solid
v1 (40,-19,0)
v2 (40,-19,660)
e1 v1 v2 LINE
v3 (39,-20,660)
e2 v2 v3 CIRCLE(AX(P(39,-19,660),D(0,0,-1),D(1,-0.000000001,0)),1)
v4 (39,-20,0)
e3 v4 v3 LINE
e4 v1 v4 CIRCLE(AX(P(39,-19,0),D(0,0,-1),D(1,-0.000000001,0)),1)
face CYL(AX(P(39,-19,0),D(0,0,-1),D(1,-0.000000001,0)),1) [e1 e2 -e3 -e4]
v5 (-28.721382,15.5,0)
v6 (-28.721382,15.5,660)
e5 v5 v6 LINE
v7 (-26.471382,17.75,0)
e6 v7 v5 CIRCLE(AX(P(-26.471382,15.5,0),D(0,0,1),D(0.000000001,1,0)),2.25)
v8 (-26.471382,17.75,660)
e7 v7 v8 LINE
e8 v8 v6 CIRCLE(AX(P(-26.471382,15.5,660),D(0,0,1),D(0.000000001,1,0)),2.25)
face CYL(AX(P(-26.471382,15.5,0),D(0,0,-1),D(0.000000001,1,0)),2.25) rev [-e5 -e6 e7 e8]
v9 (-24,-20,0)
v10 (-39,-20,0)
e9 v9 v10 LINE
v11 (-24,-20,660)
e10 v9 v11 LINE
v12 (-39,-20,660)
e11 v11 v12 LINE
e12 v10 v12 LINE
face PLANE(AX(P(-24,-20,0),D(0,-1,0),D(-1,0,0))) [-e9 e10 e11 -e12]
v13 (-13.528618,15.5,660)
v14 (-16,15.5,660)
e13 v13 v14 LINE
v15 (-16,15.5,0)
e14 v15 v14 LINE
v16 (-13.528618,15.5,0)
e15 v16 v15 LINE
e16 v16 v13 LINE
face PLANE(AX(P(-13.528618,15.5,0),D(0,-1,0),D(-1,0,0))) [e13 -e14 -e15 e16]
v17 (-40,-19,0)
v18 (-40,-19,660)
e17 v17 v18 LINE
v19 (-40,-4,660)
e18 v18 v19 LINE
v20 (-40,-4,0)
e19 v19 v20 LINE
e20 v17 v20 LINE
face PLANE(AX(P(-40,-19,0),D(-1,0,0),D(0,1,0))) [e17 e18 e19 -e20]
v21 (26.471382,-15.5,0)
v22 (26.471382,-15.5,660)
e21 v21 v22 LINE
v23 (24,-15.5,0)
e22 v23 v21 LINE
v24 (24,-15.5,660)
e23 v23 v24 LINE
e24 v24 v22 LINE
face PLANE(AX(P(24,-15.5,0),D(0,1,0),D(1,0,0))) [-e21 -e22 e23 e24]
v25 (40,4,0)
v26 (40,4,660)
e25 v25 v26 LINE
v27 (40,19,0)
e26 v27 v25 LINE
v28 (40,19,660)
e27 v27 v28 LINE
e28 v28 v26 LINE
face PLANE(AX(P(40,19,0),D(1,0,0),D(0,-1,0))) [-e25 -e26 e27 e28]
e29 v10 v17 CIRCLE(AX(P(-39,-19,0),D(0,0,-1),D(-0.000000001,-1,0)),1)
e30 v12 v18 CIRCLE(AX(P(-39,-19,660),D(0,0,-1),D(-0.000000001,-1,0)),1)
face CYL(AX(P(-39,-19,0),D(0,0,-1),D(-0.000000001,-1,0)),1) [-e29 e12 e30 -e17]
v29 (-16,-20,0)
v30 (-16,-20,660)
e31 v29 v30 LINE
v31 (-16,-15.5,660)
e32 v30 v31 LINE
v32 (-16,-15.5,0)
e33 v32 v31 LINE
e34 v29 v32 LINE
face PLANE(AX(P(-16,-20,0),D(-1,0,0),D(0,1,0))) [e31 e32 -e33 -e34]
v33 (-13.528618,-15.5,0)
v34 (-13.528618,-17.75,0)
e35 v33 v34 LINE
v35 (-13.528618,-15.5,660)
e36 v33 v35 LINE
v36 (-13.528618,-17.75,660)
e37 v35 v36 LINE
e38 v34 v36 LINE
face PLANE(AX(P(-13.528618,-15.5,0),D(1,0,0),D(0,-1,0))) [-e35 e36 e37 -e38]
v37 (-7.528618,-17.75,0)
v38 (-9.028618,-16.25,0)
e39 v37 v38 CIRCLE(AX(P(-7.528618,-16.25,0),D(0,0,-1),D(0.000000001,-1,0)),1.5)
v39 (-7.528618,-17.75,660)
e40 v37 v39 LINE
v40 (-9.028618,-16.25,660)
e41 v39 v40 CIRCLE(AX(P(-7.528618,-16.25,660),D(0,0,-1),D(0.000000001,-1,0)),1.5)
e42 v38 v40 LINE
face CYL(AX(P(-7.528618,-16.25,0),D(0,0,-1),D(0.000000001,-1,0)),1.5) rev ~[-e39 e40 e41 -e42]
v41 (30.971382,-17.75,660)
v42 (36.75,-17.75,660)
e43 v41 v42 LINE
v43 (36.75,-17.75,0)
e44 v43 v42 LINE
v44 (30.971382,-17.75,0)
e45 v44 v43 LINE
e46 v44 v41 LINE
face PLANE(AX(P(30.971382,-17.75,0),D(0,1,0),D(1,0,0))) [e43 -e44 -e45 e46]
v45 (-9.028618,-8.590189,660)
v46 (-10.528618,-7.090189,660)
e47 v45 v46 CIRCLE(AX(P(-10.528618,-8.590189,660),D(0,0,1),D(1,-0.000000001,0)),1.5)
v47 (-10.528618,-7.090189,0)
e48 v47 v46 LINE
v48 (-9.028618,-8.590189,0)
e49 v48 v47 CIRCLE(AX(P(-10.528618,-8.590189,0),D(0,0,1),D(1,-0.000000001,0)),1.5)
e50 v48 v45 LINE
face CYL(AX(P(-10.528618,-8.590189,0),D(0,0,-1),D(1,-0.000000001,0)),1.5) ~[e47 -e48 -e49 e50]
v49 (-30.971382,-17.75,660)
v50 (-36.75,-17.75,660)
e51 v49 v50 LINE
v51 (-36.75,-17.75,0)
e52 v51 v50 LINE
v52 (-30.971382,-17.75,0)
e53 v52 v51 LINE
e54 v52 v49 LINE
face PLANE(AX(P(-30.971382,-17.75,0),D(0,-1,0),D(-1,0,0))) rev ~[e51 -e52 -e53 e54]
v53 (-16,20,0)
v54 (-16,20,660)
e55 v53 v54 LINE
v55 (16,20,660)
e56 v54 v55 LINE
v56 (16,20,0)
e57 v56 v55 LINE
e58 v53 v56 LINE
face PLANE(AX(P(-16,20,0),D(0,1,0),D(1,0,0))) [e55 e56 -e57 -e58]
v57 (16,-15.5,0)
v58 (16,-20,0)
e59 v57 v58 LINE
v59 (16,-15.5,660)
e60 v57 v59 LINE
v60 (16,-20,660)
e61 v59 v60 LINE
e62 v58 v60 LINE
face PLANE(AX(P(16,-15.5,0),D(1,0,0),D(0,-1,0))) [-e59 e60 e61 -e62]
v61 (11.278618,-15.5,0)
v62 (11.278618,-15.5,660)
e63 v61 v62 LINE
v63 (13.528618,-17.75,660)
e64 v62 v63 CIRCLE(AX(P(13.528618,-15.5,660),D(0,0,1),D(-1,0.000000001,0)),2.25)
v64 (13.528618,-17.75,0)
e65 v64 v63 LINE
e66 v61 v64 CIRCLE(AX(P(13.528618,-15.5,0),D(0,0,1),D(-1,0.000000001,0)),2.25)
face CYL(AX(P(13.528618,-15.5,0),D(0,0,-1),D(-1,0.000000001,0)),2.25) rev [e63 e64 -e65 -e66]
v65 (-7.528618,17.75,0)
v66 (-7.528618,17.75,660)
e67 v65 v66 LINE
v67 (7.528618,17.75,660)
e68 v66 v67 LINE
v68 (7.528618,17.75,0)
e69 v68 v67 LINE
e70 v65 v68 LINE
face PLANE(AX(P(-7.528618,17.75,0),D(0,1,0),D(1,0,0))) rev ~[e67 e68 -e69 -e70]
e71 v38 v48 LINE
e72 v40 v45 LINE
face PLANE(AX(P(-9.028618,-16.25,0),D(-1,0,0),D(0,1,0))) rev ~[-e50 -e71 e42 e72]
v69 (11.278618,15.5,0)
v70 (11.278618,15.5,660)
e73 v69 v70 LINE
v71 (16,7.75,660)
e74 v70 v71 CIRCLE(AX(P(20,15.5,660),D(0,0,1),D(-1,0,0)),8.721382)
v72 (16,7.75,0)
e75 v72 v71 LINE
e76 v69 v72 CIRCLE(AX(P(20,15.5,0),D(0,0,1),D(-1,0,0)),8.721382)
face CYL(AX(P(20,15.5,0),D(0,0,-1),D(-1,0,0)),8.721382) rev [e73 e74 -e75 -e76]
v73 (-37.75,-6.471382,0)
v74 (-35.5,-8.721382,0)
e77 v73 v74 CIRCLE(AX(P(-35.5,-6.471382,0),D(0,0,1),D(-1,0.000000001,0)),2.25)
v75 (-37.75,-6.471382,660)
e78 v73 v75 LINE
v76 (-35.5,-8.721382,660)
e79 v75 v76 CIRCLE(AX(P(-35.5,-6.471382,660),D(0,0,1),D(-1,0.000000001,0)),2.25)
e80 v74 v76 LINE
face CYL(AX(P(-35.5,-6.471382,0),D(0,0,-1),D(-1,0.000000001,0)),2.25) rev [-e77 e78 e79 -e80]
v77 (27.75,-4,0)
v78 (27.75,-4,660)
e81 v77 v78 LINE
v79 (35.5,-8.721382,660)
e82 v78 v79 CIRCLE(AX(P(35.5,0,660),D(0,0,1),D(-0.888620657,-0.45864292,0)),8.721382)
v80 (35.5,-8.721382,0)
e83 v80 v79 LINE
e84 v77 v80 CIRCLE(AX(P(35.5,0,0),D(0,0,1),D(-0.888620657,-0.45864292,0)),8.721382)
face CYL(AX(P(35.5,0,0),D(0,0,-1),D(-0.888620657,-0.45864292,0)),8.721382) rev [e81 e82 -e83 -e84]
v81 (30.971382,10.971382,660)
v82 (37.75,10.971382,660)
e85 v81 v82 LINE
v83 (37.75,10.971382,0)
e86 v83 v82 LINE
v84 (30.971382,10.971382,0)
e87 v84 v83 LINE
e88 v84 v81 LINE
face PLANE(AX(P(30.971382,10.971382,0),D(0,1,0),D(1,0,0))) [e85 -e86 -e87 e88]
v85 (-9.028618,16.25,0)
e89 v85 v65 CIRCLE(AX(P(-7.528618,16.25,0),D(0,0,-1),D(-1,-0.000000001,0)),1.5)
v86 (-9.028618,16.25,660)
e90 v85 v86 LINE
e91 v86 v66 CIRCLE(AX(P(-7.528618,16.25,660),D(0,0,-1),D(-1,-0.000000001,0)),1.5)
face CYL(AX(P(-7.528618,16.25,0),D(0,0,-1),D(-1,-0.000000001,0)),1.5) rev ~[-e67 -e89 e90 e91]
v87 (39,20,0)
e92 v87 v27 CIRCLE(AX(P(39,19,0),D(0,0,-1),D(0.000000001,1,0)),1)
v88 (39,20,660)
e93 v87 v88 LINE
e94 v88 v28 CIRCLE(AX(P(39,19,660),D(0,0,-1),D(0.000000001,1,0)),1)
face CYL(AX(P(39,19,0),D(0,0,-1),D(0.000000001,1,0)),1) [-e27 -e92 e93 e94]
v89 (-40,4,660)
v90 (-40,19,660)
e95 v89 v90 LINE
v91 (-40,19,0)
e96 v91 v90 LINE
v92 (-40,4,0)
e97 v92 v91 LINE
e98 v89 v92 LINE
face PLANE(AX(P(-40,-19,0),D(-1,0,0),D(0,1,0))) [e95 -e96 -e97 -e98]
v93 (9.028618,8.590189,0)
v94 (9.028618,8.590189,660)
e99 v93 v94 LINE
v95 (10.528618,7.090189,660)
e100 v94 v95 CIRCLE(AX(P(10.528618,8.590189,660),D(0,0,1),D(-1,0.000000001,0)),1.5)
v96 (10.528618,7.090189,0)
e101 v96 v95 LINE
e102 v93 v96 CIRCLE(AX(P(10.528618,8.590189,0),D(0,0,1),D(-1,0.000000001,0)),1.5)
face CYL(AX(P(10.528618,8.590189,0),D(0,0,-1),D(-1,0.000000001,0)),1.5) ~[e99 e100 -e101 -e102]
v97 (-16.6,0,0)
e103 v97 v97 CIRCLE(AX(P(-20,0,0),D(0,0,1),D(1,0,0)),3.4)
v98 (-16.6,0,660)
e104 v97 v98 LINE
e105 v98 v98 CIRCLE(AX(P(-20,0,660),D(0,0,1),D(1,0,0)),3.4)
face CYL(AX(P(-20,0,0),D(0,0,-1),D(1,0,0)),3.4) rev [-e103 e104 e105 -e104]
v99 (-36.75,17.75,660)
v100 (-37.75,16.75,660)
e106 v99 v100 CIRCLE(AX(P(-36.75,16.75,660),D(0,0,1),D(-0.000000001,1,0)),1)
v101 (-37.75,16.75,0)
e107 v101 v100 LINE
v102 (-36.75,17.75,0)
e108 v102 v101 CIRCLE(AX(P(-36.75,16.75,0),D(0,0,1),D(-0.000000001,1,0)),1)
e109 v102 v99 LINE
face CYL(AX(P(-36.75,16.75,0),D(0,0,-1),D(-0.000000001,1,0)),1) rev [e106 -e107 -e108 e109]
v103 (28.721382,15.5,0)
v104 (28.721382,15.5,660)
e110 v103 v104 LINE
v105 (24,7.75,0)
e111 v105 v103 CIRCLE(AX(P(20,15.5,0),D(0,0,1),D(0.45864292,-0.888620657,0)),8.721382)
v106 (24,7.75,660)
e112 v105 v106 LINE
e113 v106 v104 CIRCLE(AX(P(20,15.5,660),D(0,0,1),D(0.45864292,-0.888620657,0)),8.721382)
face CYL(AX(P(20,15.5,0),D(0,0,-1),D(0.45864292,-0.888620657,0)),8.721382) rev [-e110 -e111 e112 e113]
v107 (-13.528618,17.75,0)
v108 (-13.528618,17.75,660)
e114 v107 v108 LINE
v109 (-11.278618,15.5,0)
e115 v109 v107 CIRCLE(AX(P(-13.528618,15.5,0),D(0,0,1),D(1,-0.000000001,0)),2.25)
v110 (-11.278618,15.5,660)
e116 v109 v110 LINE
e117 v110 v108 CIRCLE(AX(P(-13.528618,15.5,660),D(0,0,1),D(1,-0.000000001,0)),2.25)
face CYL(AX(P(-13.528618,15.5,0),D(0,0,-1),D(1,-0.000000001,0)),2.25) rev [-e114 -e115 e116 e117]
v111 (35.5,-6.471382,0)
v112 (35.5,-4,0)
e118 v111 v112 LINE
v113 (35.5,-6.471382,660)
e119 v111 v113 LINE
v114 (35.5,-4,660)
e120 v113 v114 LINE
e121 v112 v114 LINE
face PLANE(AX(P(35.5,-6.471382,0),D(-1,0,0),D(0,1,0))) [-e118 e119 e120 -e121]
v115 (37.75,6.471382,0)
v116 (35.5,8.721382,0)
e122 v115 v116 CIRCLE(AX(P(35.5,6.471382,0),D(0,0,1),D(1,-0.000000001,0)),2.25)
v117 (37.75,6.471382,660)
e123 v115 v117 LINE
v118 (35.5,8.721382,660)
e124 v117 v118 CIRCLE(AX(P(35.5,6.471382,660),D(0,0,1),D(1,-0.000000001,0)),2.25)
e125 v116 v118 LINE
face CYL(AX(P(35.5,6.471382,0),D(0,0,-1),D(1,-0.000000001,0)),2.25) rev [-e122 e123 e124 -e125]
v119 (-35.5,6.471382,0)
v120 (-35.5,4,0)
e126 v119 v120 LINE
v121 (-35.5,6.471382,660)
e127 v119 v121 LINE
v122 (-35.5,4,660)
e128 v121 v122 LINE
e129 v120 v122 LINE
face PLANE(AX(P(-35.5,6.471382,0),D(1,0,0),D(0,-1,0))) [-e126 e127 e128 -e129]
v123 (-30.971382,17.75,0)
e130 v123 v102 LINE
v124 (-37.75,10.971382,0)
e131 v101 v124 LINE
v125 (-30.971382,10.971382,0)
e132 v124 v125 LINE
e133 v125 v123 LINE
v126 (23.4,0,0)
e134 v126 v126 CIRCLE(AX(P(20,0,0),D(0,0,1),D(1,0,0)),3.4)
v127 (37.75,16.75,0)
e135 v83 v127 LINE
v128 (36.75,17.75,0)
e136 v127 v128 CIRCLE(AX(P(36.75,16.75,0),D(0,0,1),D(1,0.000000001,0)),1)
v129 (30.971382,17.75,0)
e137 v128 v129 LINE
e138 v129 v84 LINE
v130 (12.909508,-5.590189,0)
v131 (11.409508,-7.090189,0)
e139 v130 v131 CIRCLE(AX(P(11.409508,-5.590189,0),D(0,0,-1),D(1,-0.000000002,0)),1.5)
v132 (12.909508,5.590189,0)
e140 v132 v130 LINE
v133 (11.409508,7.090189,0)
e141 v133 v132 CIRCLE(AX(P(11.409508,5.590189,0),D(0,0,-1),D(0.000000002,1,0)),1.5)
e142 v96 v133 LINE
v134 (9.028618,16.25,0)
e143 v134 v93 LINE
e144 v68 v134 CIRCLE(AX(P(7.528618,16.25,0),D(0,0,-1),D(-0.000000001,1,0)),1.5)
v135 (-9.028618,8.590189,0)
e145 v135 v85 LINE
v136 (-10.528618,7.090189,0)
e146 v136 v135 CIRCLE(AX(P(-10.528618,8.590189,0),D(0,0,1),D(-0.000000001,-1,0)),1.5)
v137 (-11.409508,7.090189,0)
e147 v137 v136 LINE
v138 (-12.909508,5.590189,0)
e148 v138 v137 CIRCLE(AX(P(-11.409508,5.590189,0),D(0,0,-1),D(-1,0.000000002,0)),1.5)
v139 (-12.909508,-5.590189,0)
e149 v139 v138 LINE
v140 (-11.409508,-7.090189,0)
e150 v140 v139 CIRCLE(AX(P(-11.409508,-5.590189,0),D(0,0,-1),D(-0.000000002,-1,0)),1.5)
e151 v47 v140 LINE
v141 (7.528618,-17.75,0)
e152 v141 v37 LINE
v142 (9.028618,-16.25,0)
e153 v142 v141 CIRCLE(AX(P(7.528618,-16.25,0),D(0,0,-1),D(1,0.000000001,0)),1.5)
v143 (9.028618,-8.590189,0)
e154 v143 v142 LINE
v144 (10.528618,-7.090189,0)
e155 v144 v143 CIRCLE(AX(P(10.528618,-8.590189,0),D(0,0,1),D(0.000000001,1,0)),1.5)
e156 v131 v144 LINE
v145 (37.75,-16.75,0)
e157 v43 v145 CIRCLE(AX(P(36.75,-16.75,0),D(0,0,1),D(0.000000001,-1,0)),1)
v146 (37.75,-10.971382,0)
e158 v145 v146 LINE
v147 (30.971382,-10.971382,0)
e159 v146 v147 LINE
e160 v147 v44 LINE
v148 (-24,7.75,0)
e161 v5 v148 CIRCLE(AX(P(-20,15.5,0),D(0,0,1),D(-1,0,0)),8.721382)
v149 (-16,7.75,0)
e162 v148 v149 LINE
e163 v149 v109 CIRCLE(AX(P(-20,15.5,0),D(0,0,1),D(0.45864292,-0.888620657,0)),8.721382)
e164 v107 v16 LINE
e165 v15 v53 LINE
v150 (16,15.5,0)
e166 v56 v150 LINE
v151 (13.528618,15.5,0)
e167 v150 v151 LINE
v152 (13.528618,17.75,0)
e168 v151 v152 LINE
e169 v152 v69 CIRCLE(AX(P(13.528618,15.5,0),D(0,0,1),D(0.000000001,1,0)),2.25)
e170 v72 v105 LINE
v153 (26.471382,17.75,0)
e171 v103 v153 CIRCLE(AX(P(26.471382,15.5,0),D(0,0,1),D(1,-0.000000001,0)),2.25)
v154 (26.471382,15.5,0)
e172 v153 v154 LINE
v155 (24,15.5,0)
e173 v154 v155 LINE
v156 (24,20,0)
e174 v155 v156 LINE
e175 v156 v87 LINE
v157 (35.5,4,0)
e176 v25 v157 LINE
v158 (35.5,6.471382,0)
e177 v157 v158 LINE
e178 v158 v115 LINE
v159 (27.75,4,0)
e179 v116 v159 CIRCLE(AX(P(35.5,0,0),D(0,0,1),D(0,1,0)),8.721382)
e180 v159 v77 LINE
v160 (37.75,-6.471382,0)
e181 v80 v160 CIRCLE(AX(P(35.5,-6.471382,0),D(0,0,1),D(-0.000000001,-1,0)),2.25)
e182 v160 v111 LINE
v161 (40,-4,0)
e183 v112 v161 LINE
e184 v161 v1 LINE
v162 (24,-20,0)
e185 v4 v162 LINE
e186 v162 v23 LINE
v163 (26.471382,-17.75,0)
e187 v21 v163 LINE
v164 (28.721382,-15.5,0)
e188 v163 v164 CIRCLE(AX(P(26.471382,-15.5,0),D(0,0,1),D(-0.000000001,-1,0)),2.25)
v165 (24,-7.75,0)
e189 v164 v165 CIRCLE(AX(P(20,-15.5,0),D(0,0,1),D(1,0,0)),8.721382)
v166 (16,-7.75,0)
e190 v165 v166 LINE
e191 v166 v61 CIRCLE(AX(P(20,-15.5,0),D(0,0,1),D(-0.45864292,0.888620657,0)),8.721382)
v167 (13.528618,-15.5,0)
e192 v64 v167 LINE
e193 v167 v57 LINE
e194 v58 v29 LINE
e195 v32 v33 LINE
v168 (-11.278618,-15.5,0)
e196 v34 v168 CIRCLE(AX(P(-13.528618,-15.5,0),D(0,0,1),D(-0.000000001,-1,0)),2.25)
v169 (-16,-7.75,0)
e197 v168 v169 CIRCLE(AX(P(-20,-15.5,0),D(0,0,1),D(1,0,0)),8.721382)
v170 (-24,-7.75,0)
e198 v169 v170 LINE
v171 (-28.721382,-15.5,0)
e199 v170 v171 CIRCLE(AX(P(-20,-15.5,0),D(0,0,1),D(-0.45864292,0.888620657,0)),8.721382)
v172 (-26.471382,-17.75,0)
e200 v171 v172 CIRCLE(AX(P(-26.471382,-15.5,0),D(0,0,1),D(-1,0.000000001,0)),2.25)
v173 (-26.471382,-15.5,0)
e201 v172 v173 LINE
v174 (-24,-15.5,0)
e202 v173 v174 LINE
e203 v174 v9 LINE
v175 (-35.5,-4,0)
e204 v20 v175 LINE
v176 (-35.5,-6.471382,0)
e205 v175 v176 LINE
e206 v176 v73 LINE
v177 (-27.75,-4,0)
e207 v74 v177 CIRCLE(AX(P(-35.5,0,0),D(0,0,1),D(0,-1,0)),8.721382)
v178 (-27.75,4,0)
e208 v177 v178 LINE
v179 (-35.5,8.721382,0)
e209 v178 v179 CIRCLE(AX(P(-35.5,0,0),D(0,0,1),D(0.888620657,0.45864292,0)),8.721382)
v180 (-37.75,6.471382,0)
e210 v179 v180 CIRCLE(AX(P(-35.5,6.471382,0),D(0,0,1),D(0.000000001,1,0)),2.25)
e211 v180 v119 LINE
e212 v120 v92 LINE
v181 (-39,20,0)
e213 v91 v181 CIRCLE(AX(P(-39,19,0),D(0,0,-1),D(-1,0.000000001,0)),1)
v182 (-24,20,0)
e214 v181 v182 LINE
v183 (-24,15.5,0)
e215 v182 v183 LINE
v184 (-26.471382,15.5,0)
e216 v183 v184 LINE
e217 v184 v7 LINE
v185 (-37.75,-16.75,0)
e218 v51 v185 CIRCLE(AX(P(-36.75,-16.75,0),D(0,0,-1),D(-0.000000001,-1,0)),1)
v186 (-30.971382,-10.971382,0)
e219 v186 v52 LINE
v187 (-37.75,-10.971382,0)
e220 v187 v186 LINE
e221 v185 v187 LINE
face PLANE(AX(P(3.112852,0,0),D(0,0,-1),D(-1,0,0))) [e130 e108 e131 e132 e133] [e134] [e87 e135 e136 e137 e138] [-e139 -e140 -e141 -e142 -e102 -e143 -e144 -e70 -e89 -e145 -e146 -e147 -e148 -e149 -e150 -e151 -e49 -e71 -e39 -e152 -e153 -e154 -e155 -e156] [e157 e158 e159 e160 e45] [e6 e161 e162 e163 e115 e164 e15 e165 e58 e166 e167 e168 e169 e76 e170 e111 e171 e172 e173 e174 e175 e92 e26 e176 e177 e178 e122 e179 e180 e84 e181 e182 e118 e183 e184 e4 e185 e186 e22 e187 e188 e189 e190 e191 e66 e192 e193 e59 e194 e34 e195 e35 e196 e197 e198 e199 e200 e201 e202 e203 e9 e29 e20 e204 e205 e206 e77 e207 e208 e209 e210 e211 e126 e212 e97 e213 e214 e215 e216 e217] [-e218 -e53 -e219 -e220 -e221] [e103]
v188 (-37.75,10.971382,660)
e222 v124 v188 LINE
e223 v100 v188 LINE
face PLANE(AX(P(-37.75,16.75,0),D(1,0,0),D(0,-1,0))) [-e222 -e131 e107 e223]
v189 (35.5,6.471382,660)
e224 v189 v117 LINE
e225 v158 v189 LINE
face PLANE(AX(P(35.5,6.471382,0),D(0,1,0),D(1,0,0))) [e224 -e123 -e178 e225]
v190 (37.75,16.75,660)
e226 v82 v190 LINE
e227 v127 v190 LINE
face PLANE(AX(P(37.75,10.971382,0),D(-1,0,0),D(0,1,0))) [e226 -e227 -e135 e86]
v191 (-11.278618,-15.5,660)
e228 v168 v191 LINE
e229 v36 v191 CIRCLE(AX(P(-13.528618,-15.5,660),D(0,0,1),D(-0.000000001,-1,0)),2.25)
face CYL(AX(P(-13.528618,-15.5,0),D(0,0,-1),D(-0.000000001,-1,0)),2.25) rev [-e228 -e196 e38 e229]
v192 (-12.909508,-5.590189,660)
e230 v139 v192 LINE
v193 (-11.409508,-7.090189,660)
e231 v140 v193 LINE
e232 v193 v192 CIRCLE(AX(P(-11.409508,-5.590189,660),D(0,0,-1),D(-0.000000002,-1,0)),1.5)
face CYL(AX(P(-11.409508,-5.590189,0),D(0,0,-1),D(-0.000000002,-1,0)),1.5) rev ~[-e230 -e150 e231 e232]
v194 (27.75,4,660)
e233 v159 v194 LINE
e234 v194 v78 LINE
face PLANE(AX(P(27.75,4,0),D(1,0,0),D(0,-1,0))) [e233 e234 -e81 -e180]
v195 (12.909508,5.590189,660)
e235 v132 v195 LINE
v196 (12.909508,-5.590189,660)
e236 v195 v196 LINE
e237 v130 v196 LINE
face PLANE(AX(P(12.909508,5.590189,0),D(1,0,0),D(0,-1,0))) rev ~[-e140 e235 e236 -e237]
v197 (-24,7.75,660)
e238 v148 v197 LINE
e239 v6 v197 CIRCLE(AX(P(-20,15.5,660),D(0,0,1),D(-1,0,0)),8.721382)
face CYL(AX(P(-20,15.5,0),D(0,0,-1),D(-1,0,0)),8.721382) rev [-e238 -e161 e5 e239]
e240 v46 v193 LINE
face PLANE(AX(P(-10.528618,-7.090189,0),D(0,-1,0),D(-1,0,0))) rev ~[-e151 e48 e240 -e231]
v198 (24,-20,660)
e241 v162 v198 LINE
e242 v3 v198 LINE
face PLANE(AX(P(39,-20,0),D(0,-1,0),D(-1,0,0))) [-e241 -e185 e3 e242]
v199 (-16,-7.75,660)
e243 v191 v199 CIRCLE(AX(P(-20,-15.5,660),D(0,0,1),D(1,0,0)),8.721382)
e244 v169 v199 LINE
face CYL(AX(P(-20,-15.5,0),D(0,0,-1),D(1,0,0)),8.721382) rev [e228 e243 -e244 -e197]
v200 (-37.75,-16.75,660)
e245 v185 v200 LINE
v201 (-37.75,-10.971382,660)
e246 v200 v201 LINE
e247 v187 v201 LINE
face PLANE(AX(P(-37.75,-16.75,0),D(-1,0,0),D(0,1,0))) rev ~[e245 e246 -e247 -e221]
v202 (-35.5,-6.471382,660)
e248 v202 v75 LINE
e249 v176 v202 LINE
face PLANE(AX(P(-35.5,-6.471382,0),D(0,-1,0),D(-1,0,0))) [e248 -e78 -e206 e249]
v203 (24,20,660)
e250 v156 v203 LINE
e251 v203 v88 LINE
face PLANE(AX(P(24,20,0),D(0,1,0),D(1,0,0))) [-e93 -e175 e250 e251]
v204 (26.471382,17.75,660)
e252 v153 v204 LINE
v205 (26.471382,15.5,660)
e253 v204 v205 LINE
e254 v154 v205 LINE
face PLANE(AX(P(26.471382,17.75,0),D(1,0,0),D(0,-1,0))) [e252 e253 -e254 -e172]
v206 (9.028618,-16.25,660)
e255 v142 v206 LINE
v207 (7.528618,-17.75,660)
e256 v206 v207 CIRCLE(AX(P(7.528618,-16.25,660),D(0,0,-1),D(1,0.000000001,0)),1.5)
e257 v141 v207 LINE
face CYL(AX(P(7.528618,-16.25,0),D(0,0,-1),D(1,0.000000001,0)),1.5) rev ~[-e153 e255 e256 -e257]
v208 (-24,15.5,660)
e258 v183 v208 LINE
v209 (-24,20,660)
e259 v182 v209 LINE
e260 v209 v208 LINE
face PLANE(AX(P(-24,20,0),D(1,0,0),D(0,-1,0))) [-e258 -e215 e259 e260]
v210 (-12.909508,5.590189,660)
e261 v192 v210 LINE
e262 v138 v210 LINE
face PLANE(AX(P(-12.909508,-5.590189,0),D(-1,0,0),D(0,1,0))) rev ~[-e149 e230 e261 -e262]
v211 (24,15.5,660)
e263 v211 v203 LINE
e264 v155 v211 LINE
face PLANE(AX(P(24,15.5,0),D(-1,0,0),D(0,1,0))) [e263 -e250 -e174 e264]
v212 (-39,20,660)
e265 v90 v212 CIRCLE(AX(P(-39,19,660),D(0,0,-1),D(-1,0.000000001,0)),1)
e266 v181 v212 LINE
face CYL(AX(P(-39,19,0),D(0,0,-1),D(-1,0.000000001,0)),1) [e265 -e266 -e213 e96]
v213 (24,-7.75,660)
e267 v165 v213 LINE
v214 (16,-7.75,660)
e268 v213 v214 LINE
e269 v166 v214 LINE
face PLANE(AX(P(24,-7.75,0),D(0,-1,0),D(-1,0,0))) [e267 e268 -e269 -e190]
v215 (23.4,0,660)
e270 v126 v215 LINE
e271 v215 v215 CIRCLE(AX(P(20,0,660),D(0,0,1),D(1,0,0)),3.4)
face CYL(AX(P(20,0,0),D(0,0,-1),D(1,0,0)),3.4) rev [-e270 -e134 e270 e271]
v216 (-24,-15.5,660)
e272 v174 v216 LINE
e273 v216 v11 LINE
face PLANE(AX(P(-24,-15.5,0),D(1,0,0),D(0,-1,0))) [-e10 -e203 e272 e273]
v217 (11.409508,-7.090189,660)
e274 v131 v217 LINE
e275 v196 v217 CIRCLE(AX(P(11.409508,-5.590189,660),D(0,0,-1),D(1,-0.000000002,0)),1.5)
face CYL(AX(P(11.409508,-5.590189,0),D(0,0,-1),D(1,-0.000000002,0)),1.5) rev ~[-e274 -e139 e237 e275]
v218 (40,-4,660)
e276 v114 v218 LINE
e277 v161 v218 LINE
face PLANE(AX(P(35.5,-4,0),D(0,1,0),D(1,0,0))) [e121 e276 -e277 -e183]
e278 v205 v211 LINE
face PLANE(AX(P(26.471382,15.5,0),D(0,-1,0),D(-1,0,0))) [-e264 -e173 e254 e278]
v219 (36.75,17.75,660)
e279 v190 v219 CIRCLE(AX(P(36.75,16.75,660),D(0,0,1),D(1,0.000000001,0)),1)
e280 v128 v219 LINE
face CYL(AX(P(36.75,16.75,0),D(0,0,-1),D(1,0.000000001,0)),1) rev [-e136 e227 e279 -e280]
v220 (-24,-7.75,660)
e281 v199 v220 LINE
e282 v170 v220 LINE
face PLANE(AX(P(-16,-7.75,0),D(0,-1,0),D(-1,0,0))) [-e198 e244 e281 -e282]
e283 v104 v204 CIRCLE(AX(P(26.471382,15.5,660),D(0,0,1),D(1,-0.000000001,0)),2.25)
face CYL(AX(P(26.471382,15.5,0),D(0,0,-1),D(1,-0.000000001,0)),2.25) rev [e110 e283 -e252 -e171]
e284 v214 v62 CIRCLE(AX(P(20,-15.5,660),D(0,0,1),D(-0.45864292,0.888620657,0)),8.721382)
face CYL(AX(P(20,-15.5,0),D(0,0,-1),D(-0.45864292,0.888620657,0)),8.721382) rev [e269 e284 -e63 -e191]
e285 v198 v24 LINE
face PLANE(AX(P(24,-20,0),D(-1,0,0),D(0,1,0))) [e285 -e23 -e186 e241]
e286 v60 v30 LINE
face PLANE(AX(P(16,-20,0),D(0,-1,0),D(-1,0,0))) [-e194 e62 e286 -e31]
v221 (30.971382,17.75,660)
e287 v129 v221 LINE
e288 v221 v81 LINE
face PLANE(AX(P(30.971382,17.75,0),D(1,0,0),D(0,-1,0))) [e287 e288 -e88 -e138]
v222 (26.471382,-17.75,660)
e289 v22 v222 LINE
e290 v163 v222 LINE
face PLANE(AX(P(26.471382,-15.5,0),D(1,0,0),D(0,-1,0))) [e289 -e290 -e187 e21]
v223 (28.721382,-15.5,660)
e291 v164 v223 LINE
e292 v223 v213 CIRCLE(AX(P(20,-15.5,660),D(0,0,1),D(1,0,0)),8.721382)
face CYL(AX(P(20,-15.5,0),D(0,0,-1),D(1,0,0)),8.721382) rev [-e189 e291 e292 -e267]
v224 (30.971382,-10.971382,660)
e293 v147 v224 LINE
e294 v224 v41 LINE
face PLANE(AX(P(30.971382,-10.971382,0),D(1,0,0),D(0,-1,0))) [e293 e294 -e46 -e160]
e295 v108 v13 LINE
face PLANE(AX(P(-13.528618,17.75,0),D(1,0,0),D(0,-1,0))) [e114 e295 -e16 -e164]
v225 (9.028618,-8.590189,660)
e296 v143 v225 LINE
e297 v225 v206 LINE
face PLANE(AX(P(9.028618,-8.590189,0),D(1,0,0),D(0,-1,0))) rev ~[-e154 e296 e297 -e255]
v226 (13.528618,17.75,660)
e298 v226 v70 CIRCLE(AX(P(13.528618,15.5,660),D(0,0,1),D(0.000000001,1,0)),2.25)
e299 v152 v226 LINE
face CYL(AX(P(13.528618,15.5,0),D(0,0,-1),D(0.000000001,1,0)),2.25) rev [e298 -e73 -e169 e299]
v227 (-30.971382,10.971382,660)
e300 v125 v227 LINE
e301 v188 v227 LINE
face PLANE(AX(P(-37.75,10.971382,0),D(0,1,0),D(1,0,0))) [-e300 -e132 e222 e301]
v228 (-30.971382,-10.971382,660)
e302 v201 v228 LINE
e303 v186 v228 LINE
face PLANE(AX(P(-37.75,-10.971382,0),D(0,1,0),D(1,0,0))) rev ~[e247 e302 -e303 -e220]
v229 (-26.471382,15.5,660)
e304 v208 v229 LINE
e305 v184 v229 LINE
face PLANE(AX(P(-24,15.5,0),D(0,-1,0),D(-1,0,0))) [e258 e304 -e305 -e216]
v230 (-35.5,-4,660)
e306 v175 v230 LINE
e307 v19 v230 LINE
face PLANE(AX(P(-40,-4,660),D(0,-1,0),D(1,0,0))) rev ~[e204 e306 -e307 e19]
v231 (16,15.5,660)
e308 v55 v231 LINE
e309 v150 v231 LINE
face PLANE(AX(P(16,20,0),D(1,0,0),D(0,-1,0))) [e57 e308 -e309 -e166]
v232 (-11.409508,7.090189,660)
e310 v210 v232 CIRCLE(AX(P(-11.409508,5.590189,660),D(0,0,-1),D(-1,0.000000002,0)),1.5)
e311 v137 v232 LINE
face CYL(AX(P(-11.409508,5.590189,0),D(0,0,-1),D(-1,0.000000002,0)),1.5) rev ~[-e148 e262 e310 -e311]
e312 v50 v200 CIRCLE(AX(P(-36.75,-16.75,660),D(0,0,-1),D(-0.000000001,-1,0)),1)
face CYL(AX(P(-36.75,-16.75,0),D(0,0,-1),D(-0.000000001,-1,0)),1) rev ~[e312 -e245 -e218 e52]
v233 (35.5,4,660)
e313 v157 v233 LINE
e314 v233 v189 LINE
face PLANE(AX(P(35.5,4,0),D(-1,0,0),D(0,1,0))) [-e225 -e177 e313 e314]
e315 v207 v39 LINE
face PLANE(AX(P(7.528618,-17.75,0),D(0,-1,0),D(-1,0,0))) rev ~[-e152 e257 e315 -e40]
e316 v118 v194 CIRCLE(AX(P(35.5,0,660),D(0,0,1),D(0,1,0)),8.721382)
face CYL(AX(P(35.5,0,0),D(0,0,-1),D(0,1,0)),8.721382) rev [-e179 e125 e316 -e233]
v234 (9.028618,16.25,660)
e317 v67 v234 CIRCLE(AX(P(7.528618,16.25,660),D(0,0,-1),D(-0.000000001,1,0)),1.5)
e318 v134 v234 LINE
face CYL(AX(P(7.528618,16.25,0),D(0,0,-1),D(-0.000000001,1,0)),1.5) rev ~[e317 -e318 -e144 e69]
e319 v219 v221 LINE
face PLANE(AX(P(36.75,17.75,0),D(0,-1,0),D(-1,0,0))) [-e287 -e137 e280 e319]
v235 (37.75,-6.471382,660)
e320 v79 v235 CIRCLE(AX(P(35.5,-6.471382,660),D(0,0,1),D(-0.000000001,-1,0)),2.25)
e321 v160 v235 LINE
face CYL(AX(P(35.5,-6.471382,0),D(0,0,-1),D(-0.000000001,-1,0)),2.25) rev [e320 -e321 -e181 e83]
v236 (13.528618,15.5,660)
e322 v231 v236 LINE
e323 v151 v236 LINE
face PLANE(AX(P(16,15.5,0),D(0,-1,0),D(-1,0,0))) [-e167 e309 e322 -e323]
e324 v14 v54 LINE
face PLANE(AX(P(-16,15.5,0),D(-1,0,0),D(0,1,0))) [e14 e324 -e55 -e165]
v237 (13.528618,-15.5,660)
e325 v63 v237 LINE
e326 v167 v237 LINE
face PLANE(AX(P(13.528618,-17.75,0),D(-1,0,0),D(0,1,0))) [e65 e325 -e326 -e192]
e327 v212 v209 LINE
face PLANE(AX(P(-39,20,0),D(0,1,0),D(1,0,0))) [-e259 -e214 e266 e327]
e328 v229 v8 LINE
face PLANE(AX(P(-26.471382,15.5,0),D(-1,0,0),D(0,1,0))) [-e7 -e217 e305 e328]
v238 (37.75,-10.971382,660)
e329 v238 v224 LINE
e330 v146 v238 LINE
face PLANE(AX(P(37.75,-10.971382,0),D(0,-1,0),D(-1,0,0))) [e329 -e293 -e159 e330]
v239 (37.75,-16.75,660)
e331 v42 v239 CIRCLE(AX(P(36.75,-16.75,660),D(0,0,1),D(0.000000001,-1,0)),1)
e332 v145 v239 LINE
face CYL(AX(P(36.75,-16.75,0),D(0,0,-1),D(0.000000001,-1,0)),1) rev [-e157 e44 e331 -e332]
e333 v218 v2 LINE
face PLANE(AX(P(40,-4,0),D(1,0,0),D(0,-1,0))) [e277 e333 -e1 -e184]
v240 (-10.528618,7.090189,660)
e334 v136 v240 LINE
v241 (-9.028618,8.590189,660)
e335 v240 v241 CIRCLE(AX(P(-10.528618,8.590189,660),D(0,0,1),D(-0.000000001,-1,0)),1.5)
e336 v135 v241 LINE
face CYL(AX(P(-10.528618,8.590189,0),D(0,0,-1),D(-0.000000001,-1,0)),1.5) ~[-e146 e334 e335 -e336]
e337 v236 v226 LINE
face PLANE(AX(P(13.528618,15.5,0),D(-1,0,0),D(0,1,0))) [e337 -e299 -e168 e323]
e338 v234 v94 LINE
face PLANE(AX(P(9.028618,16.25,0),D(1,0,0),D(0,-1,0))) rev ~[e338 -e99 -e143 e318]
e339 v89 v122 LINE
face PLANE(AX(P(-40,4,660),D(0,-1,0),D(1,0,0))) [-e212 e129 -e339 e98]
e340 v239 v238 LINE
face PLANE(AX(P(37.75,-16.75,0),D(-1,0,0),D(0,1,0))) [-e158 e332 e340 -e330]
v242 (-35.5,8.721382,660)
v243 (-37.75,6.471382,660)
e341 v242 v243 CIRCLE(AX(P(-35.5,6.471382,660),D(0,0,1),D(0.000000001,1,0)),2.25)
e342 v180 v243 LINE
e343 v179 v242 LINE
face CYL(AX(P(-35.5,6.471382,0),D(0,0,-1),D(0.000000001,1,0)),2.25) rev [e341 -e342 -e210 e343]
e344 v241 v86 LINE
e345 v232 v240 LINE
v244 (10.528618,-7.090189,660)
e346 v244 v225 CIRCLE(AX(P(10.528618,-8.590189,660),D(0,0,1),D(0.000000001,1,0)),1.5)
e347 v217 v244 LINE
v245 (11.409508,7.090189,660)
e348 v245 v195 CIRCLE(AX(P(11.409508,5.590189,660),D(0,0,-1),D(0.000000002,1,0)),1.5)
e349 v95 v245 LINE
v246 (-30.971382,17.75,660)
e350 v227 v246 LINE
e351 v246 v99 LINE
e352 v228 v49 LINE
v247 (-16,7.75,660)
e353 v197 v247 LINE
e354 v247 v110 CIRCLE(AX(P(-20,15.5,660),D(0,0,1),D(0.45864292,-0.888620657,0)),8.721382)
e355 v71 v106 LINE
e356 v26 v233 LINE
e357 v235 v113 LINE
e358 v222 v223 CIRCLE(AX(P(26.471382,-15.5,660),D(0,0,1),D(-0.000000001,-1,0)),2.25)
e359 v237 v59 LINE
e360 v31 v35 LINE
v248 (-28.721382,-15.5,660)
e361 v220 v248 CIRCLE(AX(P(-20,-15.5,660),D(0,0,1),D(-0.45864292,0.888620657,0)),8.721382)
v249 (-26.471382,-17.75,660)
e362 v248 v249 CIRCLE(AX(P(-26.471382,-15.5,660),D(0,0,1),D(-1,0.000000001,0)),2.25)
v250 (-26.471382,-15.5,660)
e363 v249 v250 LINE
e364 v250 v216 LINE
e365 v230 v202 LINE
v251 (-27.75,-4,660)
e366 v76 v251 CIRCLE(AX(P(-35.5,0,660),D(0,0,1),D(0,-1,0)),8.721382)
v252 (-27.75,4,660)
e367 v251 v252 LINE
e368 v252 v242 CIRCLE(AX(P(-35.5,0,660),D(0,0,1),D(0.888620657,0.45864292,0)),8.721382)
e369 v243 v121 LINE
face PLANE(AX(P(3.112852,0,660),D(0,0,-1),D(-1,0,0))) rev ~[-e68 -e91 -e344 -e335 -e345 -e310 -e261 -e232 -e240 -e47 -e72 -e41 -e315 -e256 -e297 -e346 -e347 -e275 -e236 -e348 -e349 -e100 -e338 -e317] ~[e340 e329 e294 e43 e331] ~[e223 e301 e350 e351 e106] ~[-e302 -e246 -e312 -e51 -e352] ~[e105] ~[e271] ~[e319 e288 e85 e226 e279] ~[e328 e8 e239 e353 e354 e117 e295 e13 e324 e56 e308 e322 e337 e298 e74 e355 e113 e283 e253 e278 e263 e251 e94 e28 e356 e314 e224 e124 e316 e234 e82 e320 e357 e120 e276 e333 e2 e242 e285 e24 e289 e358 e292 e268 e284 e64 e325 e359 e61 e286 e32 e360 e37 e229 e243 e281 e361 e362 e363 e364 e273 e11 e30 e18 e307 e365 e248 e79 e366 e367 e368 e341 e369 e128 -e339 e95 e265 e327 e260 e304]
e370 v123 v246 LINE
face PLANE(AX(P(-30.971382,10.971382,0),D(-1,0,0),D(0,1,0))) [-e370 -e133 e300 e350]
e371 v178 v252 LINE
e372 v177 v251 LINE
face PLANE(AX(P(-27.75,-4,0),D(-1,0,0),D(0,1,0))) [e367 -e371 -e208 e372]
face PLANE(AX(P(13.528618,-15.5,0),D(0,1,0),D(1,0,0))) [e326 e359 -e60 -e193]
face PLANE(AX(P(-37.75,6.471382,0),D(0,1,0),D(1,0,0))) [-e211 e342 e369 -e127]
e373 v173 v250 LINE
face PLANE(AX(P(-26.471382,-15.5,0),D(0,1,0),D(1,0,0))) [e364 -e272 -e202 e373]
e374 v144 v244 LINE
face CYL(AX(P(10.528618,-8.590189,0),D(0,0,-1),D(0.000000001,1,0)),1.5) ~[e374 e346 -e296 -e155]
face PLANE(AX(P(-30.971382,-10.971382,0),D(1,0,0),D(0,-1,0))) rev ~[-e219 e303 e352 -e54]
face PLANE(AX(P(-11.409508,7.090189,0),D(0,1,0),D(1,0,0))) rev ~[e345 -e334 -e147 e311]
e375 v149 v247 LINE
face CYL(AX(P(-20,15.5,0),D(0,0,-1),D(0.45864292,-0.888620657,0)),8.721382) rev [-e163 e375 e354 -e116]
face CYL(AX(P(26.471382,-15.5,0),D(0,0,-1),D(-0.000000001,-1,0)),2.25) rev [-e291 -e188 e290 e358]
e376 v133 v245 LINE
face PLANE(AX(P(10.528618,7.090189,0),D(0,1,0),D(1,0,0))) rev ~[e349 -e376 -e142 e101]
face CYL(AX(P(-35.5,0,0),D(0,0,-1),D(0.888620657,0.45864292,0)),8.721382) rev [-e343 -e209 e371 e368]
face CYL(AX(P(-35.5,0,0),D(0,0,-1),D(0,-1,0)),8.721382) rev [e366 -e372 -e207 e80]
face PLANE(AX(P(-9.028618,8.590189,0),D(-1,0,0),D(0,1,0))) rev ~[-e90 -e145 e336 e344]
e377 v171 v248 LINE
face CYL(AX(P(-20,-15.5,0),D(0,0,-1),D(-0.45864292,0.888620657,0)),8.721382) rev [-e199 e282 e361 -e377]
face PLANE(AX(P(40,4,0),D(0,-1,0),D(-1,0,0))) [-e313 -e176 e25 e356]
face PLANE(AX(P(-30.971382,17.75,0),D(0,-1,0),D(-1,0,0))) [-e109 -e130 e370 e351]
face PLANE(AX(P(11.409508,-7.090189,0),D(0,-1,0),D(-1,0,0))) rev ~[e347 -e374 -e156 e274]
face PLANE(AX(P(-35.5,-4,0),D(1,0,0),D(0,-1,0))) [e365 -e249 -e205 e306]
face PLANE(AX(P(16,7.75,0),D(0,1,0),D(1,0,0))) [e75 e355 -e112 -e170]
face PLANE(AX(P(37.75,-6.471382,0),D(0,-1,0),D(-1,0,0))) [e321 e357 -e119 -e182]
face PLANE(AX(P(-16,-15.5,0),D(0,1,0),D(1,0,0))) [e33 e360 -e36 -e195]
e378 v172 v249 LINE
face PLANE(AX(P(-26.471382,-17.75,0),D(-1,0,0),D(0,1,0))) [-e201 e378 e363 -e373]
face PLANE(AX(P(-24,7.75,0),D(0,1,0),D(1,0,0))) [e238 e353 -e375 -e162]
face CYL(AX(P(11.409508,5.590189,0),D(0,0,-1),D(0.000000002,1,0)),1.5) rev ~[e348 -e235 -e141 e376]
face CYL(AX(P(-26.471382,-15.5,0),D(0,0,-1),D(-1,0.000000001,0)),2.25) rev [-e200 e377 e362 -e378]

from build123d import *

# Parameters (mm, degrees)
SZKIC1_R                    = 3.4
DODANIE_WYCI_GNI_CIE1_DEPTH = 660
SZKIC2_W                    = 2.25
SZKIC2_H                    = 8
WYTNIJ_WYCI_GNI_CIE1_DEPTH  = 662.513416342


with BuildPart() as part:
    # Szkic1 → Dodanie-wyciągnięcie1 (new body)
    with BuildSketch(Plane.XY):
        with BuildLine():
            Line((-40, -19), (-40, 19))
            ThreePointArc((-40, 19), (-39.707106781, 19.707106781), (-39, 20))
            Line((-39, 20), (-24, 20))
            Line((-24, 20), (-24, 15.5))
            Line((-24, 15.5), (-26.471381771, 15.5))
            Line((-26.471381771, 15.5), (-26.471381771, 17.75))
            ThreePointArc((-26.471381771, 17.75), (-28.062372029, 17.090990258), (-28.721381771, 15.5))
            ThreePointArc((-28.721381771, 15.5), (-27.448087912, 10.962546258), (-24, 7.75))
            Line((-24, 7.75), (-16, 7.75))
            ThreePointArc((-16, 7.75), (-12.551912088, 10.962546258), (-11.278618229, 15.5))
            ThreePointArc((-11.278618229, 15.5), (-11.937627971, 17.090990258), (-13.528618229, 17.75))
            Line((-13.528618229, 17.75), (-13.528618229, 15.5))
            Line((-13.528618229, 15.5), (-16, 15.5))
            Line((-16, 15.5), (-16, 20))
            Line((-16, 20), (13.528618229, 20))
            Line((13.528618229, 20), (16, 20))
            Line((16, 20), (16, 15.5))
            Line((16, 15.5), (13.528618229, 15.5))
            Line((13.528618229, 15.5), (13.528618229, 17.75))
            ThreePointArc((13.528618229, 17.75), (11.937627971, 17.090990258), (11.278618229, 15.5))
            ThreePointArc((11.278618229, 15.5), (12.551912088, 10.962546258), (16, 7.75))
            Line((16, 7.75), (24, 7.75))
            ThreePointArc((24, 7.75), (27.448087912, 10.962546258), (28.721381771, 15.5))
            ThreePointArc((28.721381771, 15.5), (28.062372029, 17.090990258), (26.471381771, 17.75))
            Line((26.471381771, 17.75), (26.471381771, 15.5))
            Line((26.471381771, 15.5), (24, 15.5))
            Line((24, 15.5), (24, 20))
            Line((24, 20), (39, 20))
            ThreePointArc((39, 20), (39.707106781, 19.707106781), (40, 19))
            Line((40, 19), (40, 4))
            Line((40, 4), (35.5, 4))
            Line((35.5, 4), (35.5, 6.471381771))
            Line((35.5, 6.471381771), (37.75, 6.471381771))
            ThreePointArc((37.75, 6.471381771), (37.090990258, 8.062372029), (35.5, 8.721381771))
            ThreePointArc((35.5, 8.721381771), (30.962546258, 7.448087912), (27.75, 4))
            Line((27.75, 4), (27.75, -4))
            ThreePointArc((27.75, -4), (30.962546258, -7.448087912), (35.5, -8.721381771))
            ThreePointArc((35.5, -8.721381771), (37.090990258, -8.062372029), (37.75, -6.471381771))
            Line((37.75, -6.471381771), (35.5, -6.471381771))
            Line((35.5, -6.471381771), (35.5, -4))
            Line((35.5, -4), (40, -4))
            Line((40, -4), (40, -19))
            ThreePointArc((40, -19), (39.707106781, -19.707106781), (39, -20))
            Line((39, -20), (24, -20))
            Line((24, -20), (24, -15.5))
            Line((24, -15.5), (26.471381771, -15.5))
            Line((26.471381771, -15.5), (26.471381771, -17.75))
            ThreePointArc((26.471381771, -17.75), (28.062372029, -17.090990258), (28.721381771, -15.5))
            ThreePointArc((28.721381771, -15.5), (27.448087912, -10.962546258), (24, -7.75))
            Line((24, -7.75), (16, -7.75))
            ThreePointArc((16, -7.75), (12.551912088, -10.962546258), (11.278618229, -15.5))
            ThreePointArc((11.278618229, -15.5), (11.937627971, -17.090990258), (13.528618229, -17.75))
            Line((13.528618229, -17.75), (13.528618229, -15.5))
            Line((13.528618229, -15.5), (16, -15.5))
            Line((16, -15.5), (16, -20))
            Line((16, -20), (-16, -20))
            Line((-16, -20), (-16, -15.5))
            Line((-16, -15.5), (-13.528618229, -15.5))
            Line((-13.528618229, -15.5), (-13.528618229, -17.75))
            ThreePointArc((-13.528618229, -17.75), (-11.937627971, -17.090990258), (-11.278618229, -15.5))
            ThreePointArc((-11.278618229, -15.5), (-12.551912088, -10.962546258), (-16, -7.75))
            Line((-16, -7.75), (-24, -7.75))
            ThreePointArc((-24, -7.75), (-27.448087912, -10.962546258), (-28.721381771, -15.5))
            ThreePointArc((-28.721381771, -15.5), (-28.062372029, -17.090990258), (-26.471381771, -17.75))
            Line((-26.471381771, -17.75), (-26.471381771, -15.5))
            Line((-26.471381771, -15.5), (-24, -15.5))
            Line((-24, -15.5), (-24, -20))
            Line((-24, -20), (-39, -20))
            ThreePointArc((-39, -20), (-39.707106781, -19.707106781), (-40, -19))
        make_face()
        with Locations((-20, 0)):
            Circle(SZKIC1_R, mode=Mode.SUBTRACT)
        with Locations((20, 0)):
            Circle(SZKIC1_R, mode=Mode.SUBTRACT)
        with BuildLine():
            Line((30.971381771, -17.75), (36.75, -17.75))
            ThreePointArc((36.75, -17.75), (37.457106781, -17.457106781), (37.75, -16.75))
            Line((37.75, -16.75), (37.75, -10.971381771))
            Line((37.75, -10.971381771), (30.971381771, -10.971381771))
            Line((30.971381771, -10.971381771), (30.971381771, -17.75))
        make_face(mode=Mode.SUBTRACT)
        with BuildLine():
            Line((-35.5, -6.471381771), (-37.75, -6.471381771))
            ThreePointArc((-37.75, -6.471381771), (-37.090990258, -8.062372029), (-35.5, -8.721381771))
            ThreePointArc((-35.5, -8.721381771), (-30.962546258, -7.448087912), (-27.75, -4))
            Line((-27.75, -4), (-27.75, 4))
            ThreePointArc((-27.75, 4), (-30.962546258, 7.448087912), (-35.5, 8.721381771))
            ThreePointArc((-35.5, 8.721381771), (-37.090990258, 8.062372029), (-37.75, 6.471381771))
            Line((-37.75, 6.471381771), (-35.5, 6.471381771))
            Line((-35.5, 6.471381771), (-35.5, 4))
            Line((-35.5, 4), (-37.75, 4))
            Line((-37.75, 4), (-37.75, -4))
            Line((-37.75, -4), (-35.5, -4))
            Line((-35.5, -4), (-35.5, -6.471381771))
        make_face(mode=Mode.SUBTRACT)
        with BuildLine():
            Line((10.528618229, 7.090188806), (11.40950808, 7.090188806))
            ThreePointArc((11.40950808, 7.090188806), (12.470168251, 6.650848977), (12.90950808, 5.590188806))
            Line((12.90950808, 5.590188806), (12.90950808, -5.590188806))
            ThreePointArc((12.90950808, -5.590188806), (12.470168251, -6.650848977), (11.40950808, -7.090188806))
            Line((11.40950808, -7.090188806), (10.528618229, -7.090188806))
            ThreePointArc((10.528618229, -7.090188806), (9.467958057, -7.529528634), (9.028618229, -8.590188806))
            Line((9.028618229, -8.590188806), (9.028618229, -16.25))
            ThreePointArc((9.028618229, -16.25), (8.589278401, -17.310660172), (7.528618229, -17.75))
            Line((7.528618229, -17.75), (-7.528618229, -17.75))
            ThreePointArc((-7.528618229, -17.75), (-8.589278401, -17.310660172), (-9.028618229, -16.25))
            Line((-9.028618229, -16.25), (-9.028618229, -8.590188806))
            ThreePointArc((-9.028618229, -8.590188806), (-9.467958057, -7.529528634), (-10.528618229, -7.090188806))
            Line((-10.528618229, -7.090188806), (-11.40950808, -7.090188806))
            ThreePointArc((-11.40950808, -7.090188806), (-12.470168251, -6.650848977), (-12.90950808, -5.590188806))
            Line((-12.90950808, -5.590188806), (-12.90950808, 5.590188806))
            ThreePointArc((-12.90950808, 5.590188806), (-12.470168251, 6.650848977), (-11.40950808, 7.090188806))
            Line((-11.40950808, 7.090188806), (-10.528618229, 7.090188806))
            ThreePointArc((-10.528618229, 7.090188806), (-9.467958057, 7.529528634), (-9.028618229, 8.590188806))
            Line((-9.028618229, 8.590188806), (-9.028618229, 16.25))
            ThreePointArc((-9.028618229, 16.25), (-8.589278401, 17.310660172), (-7.528618229, 17.75))
            Line((-7.528618229, 17.75), (7.528618229, 17.75))
            ThreePointArc((7.528618229, 17.75), (8.589278401, 17.310660172), (9.028618229, 16.25))
            Line((9.028618229, 16.25), (9.028618229, 8.590188806))
            ThreePointArc((9.028618229, 8.590188806), (9.467958057, 7.529528634), (10.528618229, 7.090188806))
        make_face(mode=Mode.SUBTRACT)
        with BuildLine():
            Line((30.971381771, 10.971381771), (37.75, 10.971381771))
            Line((37.75, 10.971381771), (37.75, 16.75))
            ThreePointArc((37.75, 16.75), (37.457106781, 17.457106781), (36.75, 17.75))
            Line((36.75, 17.75), (30.971381771, 17.75))
            Line((30.971381771, 17.75), (30.971381771, 10.971381771))
        make_face(mode=Mode.SUBTRACT)
        with BuildLine():
            Line((-30.971381771, -10.971381771), (-30.971381771, -17.75))
            Line((-30.971381771, -17.75), (-36.75, -17.75))
            ThreePointArc((-36.75, -17.75), (-37.457106781, -17.457106781), (-37.75, -16.75))
            Line((-37.75, -16.75), (-37.75, -10.971381771))
            Line((-37.75, -10.971381771), (-30.971381771, -10.971381771))
        make_face(mode=Mode.SUBTRACT)
        with BuildLine():
            Line((-30.971381771, 17.75), (-36.75, 17.75))
            ThreePointArc((-36.75, 17.75), (-37.457106781, 17.457106781), (-37.75, 16.75))
            Line((-37.75, 16.75), (-37.75, 10.971381771))
            Line((-37.75, 10.971381771), (-30.971381771, 10.971381771))
            Line((-30.971381771, 10.971381771), (-30.971381771, 17.75))
        make_face(mode=Mode.SUBTRACT)
    extrude(amount=DODANIE_WYCI_GNI_CIE1_DEPTH)

    # Szkic2 → Wytnij-wyciągnięcie1 (cut, through all)
    with BuildSketch(Plane.XY.offset(660)):
        with Locations((-38.875, 0)):
            Rectangle(SZKIC2_W, SZKIC2_H)
    extrude(amount=-WYTNIJ_WYCI_GNI_CIE1_DEPTH, mode=Mode.SUBTRACT)


solid = part.part
